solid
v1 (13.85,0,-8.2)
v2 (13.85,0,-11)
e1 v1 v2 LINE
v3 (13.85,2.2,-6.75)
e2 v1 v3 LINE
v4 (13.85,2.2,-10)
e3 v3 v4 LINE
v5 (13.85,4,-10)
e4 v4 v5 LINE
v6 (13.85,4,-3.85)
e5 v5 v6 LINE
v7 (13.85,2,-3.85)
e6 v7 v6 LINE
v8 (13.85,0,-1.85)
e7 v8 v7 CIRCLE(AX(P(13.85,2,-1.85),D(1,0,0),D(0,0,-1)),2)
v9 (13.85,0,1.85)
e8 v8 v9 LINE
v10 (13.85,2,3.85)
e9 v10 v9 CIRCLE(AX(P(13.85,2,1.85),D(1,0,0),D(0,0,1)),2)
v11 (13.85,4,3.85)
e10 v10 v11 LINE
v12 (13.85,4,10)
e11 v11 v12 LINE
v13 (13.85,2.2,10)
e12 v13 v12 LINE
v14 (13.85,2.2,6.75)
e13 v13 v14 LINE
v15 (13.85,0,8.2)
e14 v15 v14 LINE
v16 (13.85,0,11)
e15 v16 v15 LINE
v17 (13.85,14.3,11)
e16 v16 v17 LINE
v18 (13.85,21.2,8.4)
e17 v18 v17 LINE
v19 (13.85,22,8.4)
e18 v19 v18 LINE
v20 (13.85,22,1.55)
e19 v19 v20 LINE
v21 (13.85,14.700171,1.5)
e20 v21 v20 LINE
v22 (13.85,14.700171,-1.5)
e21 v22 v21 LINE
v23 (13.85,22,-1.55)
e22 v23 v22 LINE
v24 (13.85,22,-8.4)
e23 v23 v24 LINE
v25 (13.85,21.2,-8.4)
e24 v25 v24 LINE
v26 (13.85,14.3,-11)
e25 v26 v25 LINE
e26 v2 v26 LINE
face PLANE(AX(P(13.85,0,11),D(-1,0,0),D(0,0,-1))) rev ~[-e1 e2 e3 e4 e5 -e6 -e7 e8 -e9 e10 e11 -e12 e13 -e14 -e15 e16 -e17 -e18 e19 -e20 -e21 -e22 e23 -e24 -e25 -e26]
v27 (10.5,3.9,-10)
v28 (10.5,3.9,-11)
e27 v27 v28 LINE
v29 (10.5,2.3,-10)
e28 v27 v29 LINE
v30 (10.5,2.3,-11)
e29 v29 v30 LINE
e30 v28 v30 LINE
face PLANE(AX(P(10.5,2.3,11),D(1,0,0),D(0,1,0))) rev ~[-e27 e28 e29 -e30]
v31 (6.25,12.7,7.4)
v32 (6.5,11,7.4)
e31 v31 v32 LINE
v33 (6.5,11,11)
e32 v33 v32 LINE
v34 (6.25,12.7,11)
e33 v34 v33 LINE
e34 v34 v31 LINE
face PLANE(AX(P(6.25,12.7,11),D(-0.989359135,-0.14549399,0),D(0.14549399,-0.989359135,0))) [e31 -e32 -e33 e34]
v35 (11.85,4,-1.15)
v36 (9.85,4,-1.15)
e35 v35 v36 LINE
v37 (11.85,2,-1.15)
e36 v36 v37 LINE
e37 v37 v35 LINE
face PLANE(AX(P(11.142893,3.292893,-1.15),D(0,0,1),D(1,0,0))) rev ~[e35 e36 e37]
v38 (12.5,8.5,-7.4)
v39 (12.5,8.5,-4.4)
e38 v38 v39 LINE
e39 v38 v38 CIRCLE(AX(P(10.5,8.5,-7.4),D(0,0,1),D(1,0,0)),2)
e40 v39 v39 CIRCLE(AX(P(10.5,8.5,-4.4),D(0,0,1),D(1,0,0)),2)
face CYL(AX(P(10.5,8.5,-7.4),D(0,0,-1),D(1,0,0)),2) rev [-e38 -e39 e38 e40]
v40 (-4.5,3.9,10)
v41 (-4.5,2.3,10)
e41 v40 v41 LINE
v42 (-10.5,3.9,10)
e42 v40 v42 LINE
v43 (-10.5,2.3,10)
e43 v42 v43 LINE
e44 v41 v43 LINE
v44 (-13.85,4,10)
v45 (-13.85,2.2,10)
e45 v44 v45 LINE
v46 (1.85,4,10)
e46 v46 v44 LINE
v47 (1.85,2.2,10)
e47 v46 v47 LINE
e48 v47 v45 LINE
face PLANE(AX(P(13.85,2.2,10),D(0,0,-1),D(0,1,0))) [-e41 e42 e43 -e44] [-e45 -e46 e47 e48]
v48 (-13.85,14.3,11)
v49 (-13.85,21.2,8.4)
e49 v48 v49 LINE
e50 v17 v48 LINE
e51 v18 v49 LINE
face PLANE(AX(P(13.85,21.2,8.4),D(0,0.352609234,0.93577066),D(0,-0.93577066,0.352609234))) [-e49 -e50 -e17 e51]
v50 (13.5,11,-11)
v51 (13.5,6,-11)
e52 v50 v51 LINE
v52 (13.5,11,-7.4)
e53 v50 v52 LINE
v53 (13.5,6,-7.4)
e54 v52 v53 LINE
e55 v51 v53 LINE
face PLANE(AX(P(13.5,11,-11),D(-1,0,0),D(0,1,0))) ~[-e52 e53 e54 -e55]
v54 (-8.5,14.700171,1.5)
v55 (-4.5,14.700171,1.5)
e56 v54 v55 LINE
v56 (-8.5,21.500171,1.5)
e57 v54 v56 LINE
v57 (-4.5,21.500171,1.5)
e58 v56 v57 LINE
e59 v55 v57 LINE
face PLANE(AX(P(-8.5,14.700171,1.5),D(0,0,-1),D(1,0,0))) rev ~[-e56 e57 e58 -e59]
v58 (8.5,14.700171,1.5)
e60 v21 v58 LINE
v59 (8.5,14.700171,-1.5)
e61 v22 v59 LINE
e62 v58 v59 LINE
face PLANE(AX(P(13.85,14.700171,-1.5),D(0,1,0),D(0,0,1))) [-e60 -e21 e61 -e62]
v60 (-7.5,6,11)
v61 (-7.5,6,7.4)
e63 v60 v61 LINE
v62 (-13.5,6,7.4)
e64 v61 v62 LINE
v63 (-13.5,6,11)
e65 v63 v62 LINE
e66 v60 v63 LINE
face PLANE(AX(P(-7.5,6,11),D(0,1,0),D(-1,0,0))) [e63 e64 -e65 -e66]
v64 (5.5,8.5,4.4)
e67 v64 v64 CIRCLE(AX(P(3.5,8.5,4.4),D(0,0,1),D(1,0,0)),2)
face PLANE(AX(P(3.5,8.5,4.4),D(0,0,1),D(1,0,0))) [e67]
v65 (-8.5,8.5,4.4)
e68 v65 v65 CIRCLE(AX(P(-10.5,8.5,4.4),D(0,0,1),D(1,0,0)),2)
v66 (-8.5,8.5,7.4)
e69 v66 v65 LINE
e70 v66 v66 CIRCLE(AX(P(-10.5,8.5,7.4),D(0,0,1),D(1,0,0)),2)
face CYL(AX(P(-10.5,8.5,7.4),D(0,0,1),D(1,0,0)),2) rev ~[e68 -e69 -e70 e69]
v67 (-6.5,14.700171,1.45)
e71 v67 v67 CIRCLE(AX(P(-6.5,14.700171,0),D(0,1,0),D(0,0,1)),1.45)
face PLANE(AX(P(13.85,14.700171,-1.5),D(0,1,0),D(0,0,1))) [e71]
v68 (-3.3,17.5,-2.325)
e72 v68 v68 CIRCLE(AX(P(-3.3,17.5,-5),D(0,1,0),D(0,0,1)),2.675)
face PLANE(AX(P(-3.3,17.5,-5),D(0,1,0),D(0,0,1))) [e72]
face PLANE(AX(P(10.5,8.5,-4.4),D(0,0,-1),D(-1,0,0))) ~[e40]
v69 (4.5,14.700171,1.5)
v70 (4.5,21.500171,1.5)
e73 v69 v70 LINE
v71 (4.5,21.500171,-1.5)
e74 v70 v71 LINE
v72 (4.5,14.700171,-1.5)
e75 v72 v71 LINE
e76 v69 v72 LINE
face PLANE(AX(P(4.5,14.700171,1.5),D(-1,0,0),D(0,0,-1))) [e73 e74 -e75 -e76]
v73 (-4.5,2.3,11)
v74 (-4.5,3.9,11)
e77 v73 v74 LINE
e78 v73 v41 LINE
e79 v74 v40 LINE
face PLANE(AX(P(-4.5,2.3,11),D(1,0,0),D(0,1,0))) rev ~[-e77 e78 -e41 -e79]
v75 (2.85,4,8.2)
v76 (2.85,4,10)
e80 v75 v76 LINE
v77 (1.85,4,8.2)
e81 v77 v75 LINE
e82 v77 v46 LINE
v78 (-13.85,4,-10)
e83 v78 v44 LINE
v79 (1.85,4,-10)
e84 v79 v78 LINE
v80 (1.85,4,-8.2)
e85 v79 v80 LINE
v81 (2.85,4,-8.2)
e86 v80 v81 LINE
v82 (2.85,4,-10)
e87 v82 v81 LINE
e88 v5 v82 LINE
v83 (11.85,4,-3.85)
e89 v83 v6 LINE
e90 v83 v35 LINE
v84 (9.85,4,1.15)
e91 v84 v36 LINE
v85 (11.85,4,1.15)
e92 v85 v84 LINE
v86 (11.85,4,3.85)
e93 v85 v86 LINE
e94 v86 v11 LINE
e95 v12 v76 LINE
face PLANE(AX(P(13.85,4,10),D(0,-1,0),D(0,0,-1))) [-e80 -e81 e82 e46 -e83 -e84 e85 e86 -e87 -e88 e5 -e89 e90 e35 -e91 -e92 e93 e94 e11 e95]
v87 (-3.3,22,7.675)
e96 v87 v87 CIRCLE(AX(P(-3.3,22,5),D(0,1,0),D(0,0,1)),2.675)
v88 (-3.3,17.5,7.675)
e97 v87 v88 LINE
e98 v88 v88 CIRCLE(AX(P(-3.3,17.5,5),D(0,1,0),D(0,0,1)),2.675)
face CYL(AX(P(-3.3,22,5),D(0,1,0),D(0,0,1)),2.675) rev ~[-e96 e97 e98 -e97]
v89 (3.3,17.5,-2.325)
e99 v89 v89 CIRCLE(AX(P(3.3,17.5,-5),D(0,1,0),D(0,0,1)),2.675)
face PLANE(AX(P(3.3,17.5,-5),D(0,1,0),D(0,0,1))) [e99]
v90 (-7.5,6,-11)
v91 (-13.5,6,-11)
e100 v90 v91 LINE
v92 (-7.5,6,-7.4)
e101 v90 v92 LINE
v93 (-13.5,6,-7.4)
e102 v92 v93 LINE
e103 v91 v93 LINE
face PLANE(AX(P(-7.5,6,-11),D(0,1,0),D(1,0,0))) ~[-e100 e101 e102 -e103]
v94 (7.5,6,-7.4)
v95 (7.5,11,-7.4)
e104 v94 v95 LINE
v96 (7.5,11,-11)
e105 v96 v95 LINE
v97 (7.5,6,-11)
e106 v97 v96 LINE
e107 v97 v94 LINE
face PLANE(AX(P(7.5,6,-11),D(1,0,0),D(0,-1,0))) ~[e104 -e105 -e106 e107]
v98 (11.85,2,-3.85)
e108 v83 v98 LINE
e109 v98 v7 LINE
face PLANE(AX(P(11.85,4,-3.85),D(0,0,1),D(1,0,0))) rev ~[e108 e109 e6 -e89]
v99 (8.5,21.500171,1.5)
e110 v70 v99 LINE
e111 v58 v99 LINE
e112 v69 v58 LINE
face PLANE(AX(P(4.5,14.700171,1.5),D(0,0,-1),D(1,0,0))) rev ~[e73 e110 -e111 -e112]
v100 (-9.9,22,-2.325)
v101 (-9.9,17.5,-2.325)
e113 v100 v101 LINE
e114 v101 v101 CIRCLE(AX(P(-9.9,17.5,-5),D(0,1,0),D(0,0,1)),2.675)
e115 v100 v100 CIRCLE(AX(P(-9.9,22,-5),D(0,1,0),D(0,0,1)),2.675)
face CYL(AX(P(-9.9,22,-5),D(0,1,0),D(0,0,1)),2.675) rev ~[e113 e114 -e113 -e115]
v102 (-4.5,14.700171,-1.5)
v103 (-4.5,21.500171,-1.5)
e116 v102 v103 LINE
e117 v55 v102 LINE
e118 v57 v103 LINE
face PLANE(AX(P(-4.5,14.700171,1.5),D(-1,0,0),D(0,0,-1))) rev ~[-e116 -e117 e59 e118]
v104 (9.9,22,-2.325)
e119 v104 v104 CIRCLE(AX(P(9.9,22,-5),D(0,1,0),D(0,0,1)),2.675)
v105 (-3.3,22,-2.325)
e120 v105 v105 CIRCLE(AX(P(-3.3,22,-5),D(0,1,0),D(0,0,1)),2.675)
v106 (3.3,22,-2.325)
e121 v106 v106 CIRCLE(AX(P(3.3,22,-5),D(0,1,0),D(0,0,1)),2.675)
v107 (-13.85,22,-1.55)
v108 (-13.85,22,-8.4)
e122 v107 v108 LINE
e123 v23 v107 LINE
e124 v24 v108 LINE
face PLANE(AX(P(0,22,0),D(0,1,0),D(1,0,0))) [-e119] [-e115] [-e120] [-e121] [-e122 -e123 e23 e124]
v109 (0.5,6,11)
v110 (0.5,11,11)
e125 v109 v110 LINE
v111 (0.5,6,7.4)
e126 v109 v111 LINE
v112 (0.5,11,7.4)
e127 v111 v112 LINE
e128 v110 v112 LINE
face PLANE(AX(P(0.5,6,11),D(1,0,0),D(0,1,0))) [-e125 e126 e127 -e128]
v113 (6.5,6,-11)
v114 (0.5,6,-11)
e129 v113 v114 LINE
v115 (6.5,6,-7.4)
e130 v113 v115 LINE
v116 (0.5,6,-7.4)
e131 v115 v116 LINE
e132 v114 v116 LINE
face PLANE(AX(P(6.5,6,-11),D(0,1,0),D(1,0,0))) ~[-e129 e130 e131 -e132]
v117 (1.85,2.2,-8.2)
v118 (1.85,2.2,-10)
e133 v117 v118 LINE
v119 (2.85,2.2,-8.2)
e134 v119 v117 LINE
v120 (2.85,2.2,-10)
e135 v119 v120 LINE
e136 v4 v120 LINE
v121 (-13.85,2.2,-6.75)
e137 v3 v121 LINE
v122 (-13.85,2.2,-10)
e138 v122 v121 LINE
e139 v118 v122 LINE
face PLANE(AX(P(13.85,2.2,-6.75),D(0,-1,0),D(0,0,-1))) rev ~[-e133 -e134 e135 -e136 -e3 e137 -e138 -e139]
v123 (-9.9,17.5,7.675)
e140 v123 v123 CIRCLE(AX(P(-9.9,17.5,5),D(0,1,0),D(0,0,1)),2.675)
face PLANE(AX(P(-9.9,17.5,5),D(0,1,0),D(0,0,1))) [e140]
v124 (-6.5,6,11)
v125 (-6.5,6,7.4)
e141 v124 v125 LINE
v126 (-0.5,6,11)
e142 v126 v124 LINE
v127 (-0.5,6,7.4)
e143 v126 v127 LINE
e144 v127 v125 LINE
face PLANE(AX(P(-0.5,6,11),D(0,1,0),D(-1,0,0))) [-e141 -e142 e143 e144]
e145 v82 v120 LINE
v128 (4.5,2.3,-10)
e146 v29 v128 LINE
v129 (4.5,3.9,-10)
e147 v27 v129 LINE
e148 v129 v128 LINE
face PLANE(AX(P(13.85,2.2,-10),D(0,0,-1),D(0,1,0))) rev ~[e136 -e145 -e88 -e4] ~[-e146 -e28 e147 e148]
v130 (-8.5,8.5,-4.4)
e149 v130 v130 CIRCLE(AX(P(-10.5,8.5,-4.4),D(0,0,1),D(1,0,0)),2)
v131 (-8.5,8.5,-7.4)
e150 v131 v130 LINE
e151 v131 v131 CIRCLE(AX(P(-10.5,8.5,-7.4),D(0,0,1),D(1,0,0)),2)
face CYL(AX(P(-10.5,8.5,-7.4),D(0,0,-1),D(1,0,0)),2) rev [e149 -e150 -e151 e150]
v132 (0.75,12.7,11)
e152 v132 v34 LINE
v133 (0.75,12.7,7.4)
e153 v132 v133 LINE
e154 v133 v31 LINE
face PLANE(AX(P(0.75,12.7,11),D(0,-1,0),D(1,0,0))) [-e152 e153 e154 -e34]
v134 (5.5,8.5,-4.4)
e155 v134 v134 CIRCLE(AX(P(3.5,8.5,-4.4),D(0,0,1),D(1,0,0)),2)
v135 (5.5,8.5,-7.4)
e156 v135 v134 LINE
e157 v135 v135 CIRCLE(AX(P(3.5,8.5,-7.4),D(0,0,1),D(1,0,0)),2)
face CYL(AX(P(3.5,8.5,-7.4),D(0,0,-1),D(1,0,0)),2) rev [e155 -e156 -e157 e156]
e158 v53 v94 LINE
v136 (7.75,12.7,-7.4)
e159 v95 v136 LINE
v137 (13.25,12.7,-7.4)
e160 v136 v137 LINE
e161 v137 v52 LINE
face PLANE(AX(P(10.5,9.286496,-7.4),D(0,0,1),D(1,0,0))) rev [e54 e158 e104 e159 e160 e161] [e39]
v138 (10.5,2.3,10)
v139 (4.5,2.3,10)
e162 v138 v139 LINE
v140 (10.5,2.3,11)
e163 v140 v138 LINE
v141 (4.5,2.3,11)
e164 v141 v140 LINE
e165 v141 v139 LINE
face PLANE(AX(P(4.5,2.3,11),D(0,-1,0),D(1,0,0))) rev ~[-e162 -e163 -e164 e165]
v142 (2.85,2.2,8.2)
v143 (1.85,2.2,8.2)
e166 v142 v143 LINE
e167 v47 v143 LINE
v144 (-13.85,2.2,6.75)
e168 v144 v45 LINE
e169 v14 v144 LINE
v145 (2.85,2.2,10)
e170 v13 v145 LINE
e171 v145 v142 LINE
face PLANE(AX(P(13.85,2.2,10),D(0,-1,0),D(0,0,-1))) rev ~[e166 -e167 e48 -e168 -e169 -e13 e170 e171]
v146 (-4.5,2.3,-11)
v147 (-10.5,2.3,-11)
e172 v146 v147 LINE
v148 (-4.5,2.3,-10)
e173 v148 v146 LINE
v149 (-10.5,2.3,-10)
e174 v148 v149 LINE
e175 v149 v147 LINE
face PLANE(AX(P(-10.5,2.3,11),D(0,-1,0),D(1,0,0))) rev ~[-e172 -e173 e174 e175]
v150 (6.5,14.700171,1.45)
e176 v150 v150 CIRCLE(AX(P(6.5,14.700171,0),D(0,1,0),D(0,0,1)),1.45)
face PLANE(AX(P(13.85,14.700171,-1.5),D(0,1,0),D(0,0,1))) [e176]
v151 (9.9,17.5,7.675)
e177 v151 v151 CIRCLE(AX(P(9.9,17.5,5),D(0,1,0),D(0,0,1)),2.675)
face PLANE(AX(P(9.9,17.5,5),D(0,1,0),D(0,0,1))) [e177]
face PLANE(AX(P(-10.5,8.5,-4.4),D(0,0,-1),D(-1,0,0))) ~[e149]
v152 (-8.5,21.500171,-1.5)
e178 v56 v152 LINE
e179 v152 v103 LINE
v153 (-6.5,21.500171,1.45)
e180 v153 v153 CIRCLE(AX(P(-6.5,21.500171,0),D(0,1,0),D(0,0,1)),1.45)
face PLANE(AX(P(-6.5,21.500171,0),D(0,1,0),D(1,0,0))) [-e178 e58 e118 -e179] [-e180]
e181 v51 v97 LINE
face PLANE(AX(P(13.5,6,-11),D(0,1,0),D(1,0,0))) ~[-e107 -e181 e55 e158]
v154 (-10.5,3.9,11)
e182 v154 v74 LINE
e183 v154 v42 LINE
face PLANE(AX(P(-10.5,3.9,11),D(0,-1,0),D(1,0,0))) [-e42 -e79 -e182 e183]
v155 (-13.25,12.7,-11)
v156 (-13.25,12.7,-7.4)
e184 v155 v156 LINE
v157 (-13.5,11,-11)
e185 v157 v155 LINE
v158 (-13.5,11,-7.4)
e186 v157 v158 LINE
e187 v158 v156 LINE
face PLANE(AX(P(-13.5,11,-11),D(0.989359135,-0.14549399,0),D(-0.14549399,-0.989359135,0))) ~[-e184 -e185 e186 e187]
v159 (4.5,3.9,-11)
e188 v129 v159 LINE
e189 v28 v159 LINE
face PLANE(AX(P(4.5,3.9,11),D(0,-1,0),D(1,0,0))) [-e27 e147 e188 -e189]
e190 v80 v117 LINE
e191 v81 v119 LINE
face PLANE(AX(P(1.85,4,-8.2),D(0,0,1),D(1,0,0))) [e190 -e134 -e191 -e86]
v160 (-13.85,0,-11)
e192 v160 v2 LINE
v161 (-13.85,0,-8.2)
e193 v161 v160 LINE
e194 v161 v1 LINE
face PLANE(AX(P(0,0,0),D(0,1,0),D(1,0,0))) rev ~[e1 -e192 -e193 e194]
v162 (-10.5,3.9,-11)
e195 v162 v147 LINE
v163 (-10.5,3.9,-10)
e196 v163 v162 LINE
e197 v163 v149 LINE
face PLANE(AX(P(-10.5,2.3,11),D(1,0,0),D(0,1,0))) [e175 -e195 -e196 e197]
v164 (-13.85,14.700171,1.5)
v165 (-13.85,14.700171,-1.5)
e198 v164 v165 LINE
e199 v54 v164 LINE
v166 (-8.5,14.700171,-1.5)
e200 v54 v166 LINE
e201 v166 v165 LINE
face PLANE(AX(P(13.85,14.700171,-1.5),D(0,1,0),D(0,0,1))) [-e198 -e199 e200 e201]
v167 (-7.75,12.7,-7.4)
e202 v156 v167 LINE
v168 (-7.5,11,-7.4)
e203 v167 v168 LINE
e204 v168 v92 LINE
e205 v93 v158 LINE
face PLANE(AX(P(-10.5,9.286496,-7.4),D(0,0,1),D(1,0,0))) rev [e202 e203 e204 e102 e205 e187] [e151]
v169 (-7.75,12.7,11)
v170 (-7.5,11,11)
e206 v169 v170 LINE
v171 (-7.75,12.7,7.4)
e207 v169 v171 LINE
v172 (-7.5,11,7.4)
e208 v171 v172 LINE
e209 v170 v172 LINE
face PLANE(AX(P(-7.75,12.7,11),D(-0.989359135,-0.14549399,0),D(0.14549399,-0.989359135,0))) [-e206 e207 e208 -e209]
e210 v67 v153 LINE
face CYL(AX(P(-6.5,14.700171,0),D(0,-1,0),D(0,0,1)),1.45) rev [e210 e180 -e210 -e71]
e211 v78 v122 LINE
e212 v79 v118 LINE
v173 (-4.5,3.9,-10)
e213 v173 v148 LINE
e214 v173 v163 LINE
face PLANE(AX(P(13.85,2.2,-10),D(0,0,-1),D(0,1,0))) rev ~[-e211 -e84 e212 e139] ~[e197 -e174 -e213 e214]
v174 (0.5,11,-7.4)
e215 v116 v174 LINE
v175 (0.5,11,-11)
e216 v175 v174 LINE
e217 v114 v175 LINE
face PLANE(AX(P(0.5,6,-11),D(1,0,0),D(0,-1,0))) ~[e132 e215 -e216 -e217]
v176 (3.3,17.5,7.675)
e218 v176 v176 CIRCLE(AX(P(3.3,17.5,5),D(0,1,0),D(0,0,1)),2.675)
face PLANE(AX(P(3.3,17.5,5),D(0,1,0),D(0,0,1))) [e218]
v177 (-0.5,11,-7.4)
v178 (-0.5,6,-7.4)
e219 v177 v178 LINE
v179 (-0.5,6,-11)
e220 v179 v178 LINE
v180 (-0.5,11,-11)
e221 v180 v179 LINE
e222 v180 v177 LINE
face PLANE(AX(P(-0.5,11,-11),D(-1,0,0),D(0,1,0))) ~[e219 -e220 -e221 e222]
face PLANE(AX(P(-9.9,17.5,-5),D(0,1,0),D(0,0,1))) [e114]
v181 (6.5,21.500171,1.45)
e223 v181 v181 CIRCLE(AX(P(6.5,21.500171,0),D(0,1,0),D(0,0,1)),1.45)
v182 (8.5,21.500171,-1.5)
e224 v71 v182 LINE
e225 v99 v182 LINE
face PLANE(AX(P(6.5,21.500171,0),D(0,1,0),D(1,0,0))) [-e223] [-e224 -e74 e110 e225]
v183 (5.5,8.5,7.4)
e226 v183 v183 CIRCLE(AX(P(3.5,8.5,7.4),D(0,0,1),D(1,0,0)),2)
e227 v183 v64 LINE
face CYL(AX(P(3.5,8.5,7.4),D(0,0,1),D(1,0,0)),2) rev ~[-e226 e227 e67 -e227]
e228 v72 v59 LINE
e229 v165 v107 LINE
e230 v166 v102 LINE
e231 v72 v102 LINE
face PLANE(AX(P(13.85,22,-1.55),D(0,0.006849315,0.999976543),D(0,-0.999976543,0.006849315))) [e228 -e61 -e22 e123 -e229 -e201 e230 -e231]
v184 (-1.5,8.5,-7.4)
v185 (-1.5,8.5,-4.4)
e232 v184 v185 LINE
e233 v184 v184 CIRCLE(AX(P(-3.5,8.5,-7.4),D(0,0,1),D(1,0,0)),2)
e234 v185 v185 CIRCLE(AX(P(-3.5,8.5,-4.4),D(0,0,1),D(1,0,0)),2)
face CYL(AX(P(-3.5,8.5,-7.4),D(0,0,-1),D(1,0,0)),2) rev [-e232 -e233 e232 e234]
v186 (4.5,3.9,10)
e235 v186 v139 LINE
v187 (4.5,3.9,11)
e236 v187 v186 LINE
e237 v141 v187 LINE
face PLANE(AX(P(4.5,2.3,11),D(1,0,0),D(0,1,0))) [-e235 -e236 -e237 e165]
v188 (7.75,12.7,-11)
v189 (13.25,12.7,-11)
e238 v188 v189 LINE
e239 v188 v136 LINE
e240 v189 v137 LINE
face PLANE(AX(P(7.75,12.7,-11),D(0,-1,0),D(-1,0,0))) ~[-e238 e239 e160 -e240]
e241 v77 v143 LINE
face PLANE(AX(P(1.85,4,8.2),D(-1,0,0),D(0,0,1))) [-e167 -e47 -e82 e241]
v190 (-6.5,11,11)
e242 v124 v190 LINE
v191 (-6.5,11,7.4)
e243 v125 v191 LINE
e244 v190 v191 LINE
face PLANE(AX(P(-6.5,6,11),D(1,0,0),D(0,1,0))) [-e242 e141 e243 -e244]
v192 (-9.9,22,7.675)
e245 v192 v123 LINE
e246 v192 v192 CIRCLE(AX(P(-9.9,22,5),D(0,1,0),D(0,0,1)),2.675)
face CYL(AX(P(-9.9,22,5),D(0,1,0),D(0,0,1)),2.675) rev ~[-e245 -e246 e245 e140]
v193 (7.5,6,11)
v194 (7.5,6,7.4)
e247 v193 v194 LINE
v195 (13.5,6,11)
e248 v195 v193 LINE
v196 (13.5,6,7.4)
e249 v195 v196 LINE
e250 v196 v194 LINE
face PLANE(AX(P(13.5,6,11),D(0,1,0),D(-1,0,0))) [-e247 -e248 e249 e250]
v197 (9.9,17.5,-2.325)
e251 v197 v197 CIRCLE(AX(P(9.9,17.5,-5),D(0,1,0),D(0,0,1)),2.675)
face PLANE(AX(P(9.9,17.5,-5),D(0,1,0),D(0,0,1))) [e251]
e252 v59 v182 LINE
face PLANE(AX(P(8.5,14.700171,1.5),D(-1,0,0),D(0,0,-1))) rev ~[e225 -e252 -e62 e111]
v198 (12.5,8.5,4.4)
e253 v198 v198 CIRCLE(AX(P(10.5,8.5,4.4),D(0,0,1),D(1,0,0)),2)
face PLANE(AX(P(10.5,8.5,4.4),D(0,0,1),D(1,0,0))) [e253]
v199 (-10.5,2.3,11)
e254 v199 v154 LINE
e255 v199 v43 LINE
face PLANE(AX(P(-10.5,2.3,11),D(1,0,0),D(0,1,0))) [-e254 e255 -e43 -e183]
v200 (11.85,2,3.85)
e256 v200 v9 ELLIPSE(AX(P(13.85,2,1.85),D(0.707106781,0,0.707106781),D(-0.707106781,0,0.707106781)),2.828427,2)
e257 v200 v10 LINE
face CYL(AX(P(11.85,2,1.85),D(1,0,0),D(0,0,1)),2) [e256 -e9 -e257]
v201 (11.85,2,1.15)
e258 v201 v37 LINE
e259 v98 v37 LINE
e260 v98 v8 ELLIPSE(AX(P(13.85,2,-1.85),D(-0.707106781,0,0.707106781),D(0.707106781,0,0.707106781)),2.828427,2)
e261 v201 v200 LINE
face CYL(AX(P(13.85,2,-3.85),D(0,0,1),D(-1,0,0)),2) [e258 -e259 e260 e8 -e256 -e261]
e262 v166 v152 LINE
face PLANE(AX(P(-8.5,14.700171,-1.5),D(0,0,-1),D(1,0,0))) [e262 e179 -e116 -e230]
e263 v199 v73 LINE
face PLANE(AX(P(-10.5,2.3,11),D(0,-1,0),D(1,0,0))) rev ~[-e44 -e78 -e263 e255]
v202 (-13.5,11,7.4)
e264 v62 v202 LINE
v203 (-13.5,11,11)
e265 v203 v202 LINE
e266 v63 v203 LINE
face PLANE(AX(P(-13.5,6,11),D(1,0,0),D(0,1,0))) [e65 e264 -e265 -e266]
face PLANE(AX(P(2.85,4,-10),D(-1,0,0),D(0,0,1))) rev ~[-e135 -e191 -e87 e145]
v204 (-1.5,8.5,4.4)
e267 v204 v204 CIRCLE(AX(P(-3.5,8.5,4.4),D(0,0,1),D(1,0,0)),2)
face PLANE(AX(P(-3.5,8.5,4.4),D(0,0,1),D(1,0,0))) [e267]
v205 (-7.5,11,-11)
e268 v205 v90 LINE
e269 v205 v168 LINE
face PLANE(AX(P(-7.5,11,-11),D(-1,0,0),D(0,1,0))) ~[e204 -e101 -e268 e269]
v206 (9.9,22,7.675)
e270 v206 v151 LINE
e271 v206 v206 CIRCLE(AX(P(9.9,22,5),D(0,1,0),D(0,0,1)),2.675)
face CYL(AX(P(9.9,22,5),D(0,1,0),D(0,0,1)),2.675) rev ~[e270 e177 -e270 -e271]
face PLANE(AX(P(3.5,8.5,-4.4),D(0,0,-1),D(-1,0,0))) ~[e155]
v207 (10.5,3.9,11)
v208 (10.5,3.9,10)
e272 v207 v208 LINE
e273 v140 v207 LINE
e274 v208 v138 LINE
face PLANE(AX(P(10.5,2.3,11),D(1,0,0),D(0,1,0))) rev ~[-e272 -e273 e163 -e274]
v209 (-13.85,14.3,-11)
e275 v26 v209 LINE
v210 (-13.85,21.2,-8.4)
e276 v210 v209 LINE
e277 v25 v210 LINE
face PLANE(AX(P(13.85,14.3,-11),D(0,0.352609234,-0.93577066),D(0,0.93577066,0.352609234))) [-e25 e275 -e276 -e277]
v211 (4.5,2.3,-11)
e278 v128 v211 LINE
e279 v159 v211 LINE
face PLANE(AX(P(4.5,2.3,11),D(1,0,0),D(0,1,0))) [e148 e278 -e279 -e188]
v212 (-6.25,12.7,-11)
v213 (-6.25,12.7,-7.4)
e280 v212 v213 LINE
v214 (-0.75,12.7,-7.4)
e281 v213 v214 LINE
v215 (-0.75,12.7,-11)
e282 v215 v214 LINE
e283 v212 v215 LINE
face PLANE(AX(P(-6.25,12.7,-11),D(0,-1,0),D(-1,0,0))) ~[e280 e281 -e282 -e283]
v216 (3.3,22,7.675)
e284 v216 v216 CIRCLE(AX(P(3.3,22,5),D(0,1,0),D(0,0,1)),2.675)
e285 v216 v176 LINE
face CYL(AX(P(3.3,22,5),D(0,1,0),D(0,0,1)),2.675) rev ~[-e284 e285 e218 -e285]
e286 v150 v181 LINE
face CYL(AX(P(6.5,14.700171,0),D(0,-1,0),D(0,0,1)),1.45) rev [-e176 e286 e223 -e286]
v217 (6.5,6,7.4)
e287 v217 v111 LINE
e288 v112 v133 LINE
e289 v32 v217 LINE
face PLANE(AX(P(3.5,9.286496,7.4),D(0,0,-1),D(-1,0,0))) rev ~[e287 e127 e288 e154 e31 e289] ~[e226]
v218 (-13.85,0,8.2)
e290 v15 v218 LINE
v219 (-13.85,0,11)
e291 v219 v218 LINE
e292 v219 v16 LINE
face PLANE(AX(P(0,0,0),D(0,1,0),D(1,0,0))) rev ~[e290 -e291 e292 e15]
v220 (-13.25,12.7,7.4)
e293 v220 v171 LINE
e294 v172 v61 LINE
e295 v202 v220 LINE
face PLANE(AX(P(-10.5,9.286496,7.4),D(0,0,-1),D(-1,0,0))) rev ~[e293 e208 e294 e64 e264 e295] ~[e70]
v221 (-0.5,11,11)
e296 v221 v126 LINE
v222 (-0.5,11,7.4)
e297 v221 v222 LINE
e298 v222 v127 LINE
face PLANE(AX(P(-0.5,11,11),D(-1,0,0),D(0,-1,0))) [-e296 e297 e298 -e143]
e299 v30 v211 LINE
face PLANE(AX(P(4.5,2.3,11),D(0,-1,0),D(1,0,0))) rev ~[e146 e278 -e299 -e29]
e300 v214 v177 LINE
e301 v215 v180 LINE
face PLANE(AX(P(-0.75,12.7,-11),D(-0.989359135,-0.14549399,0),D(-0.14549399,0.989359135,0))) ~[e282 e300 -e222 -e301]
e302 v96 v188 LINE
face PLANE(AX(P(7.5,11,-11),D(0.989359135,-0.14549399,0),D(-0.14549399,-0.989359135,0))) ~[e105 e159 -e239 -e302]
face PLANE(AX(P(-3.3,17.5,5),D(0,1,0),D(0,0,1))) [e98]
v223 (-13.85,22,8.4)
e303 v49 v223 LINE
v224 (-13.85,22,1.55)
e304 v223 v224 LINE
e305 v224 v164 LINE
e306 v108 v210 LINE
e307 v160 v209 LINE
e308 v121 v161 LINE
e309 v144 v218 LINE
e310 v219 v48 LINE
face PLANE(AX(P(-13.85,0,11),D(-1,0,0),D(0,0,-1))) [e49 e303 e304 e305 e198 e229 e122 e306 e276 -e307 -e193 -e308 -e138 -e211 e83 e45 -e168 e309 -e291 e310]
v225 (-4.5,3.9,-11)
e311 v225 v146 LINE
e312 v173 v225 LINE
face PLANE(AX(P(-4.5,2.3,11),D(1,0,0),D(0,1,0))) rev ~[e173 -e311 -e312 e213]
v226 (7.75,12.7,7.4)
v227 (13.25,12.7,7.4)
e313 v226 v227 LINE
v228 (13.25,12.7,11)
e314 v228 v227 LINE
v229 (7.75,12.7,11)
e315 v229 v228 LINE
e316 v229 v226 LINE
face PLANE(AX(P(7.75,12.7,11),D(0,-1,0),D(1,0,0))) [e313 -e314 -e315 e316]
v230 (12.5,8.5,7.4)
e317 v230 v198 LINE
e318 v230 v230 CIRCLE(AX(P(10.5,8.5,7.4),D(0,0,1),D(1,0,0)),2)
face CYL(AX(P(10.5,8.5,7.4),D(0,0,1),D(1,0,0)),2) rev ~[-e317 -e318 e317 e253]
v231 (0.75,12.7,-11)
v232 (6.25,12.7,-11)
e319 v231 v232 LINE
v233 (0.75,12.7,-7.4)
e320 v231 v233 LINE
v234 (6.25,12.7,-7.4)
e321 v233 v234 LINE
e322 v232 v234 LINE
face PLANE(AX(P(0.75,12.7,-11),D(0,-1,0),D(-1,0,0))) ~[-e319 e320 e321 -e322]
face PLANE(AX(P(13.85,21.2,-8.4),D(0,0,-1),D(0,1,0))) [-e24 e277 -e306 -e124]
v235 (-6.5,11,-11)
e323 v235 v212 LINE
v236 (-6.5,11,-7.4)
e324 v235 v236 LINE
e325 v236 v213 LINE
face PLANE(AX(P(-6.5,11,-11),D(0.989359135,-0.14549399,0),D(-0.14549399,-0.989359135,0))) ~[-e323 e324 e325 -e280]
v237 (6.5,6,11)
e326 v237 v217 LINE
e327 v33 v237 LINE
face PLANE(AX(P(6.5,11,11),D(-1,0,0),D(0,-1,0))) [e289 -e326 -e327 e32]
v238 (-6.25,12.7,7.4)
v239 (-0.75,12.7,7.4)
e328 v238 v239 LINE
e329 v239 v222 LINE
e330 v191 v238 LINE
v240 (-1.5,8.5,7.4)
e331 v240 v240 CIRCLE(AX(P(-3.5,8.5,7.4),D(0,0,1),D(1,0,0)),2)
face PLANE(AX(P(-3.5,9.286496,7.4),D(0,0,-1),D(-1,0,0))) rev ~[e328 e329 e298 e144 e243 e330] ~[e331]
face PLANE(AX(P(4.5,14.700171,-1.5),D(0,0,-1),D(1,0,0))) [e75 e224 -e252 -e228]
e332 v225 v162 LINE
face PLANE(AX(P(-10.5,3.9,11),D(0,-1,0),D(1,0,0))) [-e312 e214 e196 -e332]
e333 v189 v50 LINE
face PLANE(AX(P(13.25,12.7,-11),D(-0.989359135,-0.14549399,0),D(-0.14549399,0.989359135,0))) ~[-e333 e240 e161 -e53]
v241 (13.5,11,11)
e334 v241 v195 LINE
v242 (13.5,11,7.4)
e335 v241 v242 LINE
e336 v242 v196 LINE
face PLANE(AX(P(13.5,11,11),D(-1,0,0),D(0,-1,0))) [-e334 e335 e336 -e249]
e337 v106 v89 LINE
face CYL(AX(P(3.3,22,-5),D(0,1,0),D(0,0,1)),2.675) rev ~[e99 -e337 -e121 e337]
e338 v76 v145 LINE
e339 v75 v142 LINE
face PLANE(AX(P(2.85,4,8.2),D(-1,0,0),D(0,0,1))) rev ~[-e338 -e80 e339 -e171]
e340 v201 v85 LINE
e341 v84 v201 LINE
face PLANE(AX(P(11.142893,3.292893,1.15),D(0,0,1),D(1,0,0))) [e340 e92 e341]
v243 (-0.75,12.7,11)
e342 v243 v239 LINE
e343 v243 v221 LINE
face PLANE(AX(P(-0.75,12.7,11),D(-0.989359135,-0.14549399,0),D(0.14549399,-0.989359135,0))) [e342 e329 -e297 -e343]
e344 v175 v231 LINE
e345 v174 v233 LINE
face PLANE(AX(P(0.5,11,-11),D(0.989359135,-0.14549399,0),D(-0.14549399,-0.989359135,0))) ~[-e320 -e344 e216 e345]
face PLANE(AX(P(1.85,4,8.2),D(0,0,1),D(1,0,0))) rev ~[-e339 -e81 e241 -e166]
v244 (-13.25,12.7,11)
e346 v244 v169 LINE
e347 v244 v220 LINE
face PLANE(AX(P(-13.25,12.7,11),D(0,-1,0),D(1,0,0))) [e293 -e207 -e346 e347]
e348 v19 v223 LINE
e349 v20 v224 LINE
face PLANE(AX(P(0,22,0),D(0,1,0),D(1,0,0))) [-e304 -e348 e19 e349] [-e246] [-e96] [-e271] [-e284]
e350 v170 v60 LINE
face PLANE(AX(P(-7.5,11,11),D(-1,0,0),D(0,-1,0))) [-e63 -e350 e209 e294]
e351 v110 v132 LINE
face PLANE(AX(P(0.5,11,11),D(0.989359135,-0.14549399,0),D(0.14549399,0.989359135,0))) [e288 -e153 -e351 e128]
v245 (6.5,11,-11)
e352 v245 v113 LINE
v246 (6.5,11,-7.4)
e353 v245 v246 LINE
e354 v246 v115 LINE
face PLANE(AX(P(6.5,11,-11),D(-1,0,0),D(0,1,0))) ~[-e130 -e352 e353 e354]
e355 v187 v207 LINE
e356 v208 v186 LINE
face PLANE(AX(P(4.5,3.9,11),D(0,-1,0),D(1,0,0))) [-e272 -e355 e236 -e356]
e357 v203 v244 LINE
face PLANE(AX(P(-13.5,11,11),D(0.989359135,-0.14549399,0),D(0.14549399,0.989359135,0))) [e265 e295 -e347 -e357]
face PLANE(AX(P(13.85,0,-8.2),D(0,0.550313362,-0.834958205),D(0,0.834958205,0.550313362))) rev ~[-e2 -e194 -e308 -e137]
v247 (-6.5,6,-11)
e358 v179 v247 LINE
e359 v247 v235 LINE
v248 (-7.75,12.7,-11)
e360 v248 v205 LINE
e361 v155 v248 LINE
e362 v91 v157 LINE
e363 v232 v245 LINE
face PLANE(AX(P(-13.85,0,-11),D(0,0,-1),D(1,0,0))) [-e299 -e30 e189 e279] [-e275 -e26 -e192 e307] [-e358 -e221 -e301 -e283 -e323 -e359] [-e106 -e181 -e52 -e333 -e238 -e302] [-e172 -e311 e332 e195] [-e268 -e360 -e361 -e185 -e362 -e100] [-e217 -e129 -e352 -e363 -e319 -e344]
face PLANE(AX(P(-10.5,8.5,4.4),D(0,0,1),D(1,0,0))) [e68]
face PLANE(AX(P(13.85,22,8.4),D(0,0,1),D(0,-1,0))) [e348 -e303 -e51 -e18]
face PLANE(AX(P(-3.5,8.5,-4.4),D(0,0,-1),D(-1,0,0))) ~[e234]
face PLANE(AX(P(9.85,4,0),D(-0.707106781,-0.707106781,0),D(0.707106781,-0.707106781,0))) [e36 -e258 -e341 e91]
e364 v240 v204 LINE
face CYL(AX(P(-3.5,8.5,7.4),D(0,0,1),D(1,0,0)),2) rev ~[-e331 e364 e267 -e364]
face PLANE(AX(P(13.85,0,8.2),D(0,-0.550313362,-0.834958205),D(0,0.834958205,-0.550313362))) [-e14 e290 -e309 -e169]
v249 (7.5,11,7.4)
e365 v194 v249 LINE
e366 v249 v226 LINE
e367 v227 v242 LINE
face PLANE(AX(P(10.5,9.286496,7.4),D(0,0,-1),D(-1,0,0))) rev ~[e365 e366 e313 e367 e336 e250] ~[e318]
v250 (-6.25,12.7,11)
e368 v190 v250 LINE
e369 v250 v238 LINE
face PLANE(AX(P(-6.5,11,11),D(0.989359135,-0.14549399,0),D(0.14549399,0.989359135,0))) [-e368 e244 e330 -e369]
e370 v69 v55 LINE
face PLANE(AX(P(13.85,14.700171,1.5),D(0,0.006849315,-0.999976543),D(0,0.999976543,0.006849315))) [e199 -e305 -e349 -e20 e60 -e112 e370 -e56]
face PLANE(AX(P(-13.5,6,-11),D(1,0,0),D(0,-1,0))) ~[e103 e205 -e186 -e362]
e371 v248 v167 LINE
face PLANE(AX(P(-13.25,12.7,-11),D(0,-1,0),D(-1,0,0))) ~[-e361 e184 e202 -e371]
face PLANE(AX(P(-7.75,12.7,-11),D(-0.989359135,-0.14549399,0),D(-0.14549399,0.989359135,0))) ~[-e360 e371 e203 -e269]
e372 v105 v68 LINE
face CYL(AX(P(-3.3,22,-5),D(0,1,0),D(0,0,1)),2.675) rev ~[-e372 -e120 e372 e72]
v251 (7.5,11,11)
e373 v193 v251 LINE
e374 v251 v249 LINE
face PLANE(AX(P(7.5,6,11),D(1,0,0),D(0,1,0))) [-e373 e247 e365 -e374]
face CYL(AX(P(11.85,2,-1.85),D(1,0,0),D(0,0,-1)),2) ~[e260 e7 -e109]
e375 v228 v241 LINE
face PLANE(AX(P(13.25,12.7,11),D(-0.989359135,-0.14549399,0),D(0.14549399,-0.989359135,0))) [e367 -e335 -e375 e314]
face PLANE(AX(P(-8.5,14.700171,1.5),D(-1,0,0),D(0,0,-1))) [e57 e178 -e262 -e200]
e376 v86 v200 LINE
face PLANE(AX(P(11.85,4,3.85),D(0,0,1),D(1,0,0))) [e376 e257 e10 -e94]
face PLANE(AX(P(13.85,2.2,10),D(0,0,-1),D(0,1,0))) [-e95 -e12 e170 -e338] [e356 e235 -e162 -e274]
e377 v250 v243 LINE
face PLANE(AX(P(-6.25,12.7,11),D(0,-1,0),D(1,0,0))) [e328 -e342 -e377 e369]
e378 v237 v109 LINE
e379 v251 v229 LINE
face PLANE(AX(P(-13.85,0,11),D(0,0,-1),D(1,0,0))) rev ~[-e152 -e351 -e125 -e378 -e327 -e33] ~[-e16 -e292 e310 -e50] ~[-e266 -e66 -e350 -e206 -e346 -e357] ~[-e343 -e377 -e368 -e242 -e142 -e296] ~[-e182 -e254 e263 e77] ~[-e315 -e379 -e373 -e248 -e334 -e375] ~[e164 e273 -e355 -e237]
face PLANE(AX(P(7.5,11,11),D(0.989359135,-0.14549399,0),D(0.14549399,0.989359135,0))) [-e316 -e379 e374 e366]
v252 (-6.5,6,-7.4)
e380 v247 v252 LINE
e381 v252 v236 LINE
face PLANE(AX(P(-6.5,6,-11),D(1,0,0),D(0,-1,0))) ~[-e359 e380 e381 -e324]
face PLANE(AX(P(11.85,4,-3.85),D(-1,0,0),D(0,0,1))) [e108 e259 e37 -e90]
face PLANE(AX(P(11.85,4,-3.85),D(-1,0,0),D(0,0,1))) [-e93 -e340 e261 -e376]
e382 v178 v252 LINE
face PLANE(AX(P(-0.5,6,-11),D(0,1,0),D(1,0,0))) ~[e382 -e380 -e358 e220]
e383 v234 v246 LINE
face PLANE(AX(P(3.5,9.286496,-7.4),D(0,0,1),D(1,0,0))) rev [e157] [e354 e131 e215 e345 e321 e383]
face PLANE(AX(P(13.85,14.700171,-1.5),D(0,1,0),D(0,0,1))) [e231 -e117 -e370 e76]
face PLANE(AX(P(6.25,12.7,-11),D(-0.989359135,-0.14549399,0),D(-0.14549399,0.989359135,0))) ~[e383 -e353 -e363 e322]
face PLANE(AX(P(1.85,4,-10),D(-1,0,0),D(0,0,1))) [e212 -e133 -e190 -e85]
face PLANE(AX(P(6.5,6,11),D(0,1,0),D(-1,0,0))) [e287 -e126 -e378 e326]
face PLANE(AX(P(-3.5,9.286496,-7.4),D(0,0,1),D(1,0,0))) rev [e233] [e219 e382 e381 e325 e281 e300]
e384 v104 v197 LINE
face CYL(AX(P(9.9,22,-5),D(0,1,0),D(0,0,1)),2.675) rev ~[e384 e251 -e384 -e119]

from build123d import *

# Parameters (mm, degrees)
SKETCH1_W                                   = 27.7
SKETCH1_H                                   = 22
BOSS_EXTRUDE1_DEPTH                         = 22
CUT_EXTRUDE1_DEPTH                          = 38.04443278
CUT_EXTRUDE2_DEPTH                          = 38.04443278
SKETCH4_W                                   = 13.5
SKETCH4_H                                   = 4
CUT_EXTRUDE3_DEPTH                          = 38.04443278
SKETCH5_W                                   = 3.25
SKETCH5_H                                   = 1.8
CUT_EXTRUDE4_DEPTH                          = 38.04443278
CUT_EXTRUDE5_DEPTH                          = 38.04443278
SKETCH7_W                                   = 6
SKETCH7_H                                   = 1.6
CUT_EXTRUDE6_DEPTH                          = 35.056166842
SKETCH8_R                                   = 2.675
CUT_EXTRUDE7_DEPTH                          = 4.5
CUT_EXTRUDE8_DEPTH                          = 3.6
SKETCH10_R                                  = 2
CUT_EXTRUDE9_DEPTH                          = 3
SKETCH15_W                                  = 4
SKETCH15_H                                  = 3
SKETCH15_R                                  = 1.45
BOSS_EXTRUDE4_DEPTH                         = 6.8
SKETCH11_W                                  = 10.5
SKETCH11_H                                  = 7.7
BOSS_EXTRUDE2_DEPTH                         = 4
SKETCH12_R                                  = 3
CUT_EXTRUDE10_DEPTH                         = 3.5
SKETCH13_R                                  = 1.5
REIK_MAHTUU_3_3MM_NIITTI_L_PI_KOSKA_M_DEPTH = 33.905508657
FILLET2_R                                   = 2
FILLET3_R                                   = 1
BOSS_EXTRUDE5_DEPTH                         = 1.15
SKETCH18_W                                  = 1
SKETCH18_H                                  = 1.8
BOSS_EXTRUDE6_DEPTH                         = 4
SKETCH19_W                                  = 8.5
SKETCH19_H                                  = 4
CUT_EXTRUDE12_DEPTH                         = 35.699351643


with BuildPart() as part:
    # Sketch1 → Boss-Extrude1 (new body)
    with BuildSketch(Plane(origin=(0, 0, 0), x_dir=(1, 0, 0), z_dir=(0, 1, 0))):
        Rectangle(SKETCH1_W, SKETCH1_H)
    extrude(amount=BOSS_EXTRUDE1_DEPTH)

    # Sketch2 → Cut-Extrude1 (cut, through all)
    with BuildSketch(Plane(origin=(13.85, 0, 0), x_dir=(0, 0, -1), z_dir=(1, 0, 0))):
        Polygon((-8.4, 22), (-8.4, 21.2), (-11, 14.3), (-11, 22), align=None)
        Polygon((11, 22), (11, 14.3), (8.4, 21.2), (8.4, 22), align=None)
    extrude(amount=-CUT_EXTRUDE1_DEPTH, mode=Mode.SUBTRACT)

    # Sketch3 → Cut-Extrude2 (cut, through all)
    with BuildSketch(Plane(origin=(13.85, 0, 0), x_dir=(0, 0, -1), z_dir=(1, 0, 0))):
        Polygon((-1.55, 22), (1.55, 22), (1.5, 14.700171235), (-1.5, 14.700171235), align=None)
    extrude(amount=-CUT_EXTRUDE2_DEPTH, mode=Mode.SUBTRACT)

    # Sketch4 → Cut-Extrude3 (cut, through all)
    with BuildSketch(Plane(origin=(13.85, 0, 0), x_dir=(0, 0, -1), z_dir=(1, 0, 0))):
        with Locations((0, 2)):
            Rectangle(SKETCH4_W, SKETCH4_H)
    extrude(amount=-CUT_EXTRUDE3_DEPTH, mode=Mode.SUBTRACT)

    # Sketch5 → Cut-Extrude4 (cut, through all)
    with BuildSketch(Plane(origin=(13.85, 0, 0), x_dir=(0, 0, -1), z_dir=(1, 0, 0))):
        with Locations((-8.375, 3.1)):
            Rectangle(SKETCH5_W, SKETCH5_H)
        with Locations((8.375, 3.1)):
            Rectangle(SKETCH5_W, SKETCH5_H)
    extrude(amount=-CUT_EXTRUDE4_DEPTH, mode=Mode.SUBTRACT)

    # Sketch6 → Cut-Extrude5 (cut, through all)
    with BuildSketch(Plane(origin=(13.85, 0, 0), x_dir=(0, 0, -1), z_dir=(1, 0, 0))):
        Polygon((-8.2, 0), (-6.75, 2.2), (-6.75, 0), align=None)
        Polygon((6.75, 0), (8.2, 0), (6.75, 2.2), align=None)
    extrude(amount=-CUT_EXTRUDE5_DEPTH, mode=Mode.SUBTRACT)

    # Sketch7 → Cut-Extrude6 (cut, through all)
    with BuildSketch(Plane.XY.offset(11)):
        with Locations((-7.5, 3.1)):
            Rectangle(SKETCH7_W, SKETCH7_H)
        with Locations((7.5, 3.1)):
            Rectangle(SKETCH7_W, SKETCH7_H)
    extrude(amount=-CUT_EXTRUDE6_DEPTH, mode=Mode.SUBTRACT)

    # Sketch8 → Cut-Extrude7 (cut)
    with BuildSketch(Plane(origin=(0, 22, 0), x_dir=(1, 0, 0), z_dir=(0, 1, 0))):
        with Locations(Location((-9.9, 5, 0), (0, 0, 270))):
            Circle(SKETCH8_R)
        with Locations(Location((-3.3, 5, 0), (0, 0, 270))):
            Circle(SKETCH8_R)
        with Locations(Location((3.3, 5, 0), (0, 0, 270))):
            Circle(SKETCH8_R)
        with Locations(Location((9.9, 5, 0), (0, 0, 270))):
            Circle(SKETCH8_R)
        with Locations(Location((9.9, -5, 0), (0, 0, 270))):
            Circle(SKETCH8_R)
        with Locations(Location((3.3, -5, 0), (0, 0, 270))):
            Circle(SKETCH8_R)
        with Locations(Location((-3.3, -5, 0), (0, 0, 270))):
            Circle(SKETCH8_R)
        with Locations(Location((-9.9, -5, 0), (0, 0, 270))):
            Circle(SKETCH8_R)
    extrude(amount=-CUT_EXTRUDE7_DEPTH, mode=Mode.SUBTRACT)

    # Sketch9 → Cut-Extrude8 (cut)
    with BuildSketch(Plane.XY.offset(11)):
        Polygon((-7.75, 12.7), (-7.5, 11), (-7.5, 6), (-13.5, 6), (-13.5, 11), (-13.25, 12.7), align=None)
        Polygon((-0.75, 12.7), (-0.5, 11), (-0.5, 6), (-6.5, 6), (-6.5, 11), (-6.25, 12.7), align=None)
        Polygon((6.25, 12.7), (6.5, 11), (6.5, 6), (0.5, 6), (0.5, 11), (0.75, 12.7), align=None)
        Polygon((13.25, 12.7), (13.5, 11), (13.5, 6), (7.5, 6), (7.5, 11), (7.75, 12.7), align=None)
    cut_extrude8 = extrude(amount=-CUT_EXTRUDE8_DEPTH, mode=Mode.SUBTRACT)

    # Mirror1: Cut-Extrude8 across plane
    add(cut_extrude8.mirror(Plane.XY), mode=Mode.SUBTRACT)

    # Sketch10 → Cut-Extrude9 (cut)
    with BuildSketch(Plane.XY.offset(7.4)):
        with Locations((-10.5, 8.5)):
            Circle(SKETCH10_R)
        with Locations((-3.5, 8.5)):
            Circle(SKETCH10_R)
        with Locations((3.5, 8.5)):
            Circle(SKETCH10_R)
        with Locations((10.5, 8.5)):
            Circle(SKETCH10_R)
    cut_extrude9 = extrude(amount=-CUT_EXTRUDE9_DEPTH, mode=Mode.SUBTRACT)

    # Mirror2: Cut-Extrude9 across plane
    add(cut_extrude9.mirror(Plane.XY), mode=Mode.SUBTRACT)

    # Sketch15 → Boss-Extrude4 (add)
    # profile 1 of 2: a face of its own
    with BuildSketch(Plane(origin=(0, 14.700171235, 0), x_dir=(1, 0, 0), z_dir=(0, 1, 0))):
        with Locations((-6.5, 0)):
            Rectangle(SKETCH15_W, SKETCH15_H)
        with Locations(Location((-6.5, 0, 0), (0, 0, 270))):
            Circle(SKETCH15_R, mode=Mode.SUBTRACT)
    # profile 2 of 2: a face of its own
    with BuildSketch(Plane(origin=(0, 14.700171235, 0), x_dir=(1, 0, 0), z_dir=(0, 1, 0))):
        with Locations((6.5, 0)):
            Rectangle(SKETCH15_W, SKETCH15_H)
        with Locations(Location((6.5, 0, 0), (0, 0, 270))):
            Circle(SKETCH15_R, mode=Mode.SUBTRACT)
    extrude(amount=BOSS_EXTRUDE4_DEPTH)

    # Sketch11 → Boss-Extrude2 (add)
    with BuildSketch(Plane.XZ.offset(-4)):
        with Locations((17.1, 0)):
            Rectangle(SKETCH11_W, SKETCH11_H)
    extrude(amount=BOSS_EXTRUDE2_DEPTH)

    # Sketch12 → Cut-Extrude10 (cut)
    with BuildSketch(Plane(origin=(0, 4, 0), x_dir=(1, 0, 0), z_dir=(0, 1, 0))):
        with Locations(Location((18.35, 0, 0), (0, 0, 270))):
            Circle(SKETCH12_R)
    extrude(amount=-CUT_EXTRUDE10_DEPTH, mode=Mode.SUBTRACT)

    # Sketch13 → Reikä. Mahtuu 3,3mm niitti läpi, koska materiaali muovia (cut, through all)
    with BuildSketch(Plane(origin=(0, 0.5, 0), x_dir=(1, 0, 0), z_dir=(0, 1, 0))):
        with Locations(Location((18.35, 0, 0), (0, 0, 270))):
            Circle(SKETCH13_R)
    extrude(amount=-REIK_MAHTUU_3_3MM_NIITTI_L_PI_KOSKA_M_DEPTH, mode=Mode.SUBTRACT)

    # Fillet2
    fillet2_edges = [part.edges().sort_by_distance(p)[0] for p in [
        (17.1, 0, -3.85),
        (11.85, 0, 0),
        (17.1, 0, 3.85),
        (22.35, 0, 0),
    ]]
    fillet(fillet2_edges, radius=FILLET2_R)

    # Fillet3
    fillet3_edges = [part.edges().sort_by_distance(p)[0] for p in [
        (22.35, 3, -3.85),
        (22.35, 3, 3.85),
        (21.642097815, 0.473407966, 3.142097815),
        (21.642097815, 0.473407966, -3.142097815),
    ]]
    fillet(fillet3_edges, radius=FILLET3_R)

    # Sketch16 → Boss-Extrude5 (add, symmetric)
    with BuildSketch(Plane.XY):
        Polygon((11.85, 2), (11.85, 4), (9.85, 4), align=None)
    extrude(amount=BOSS_EXTRUDE5_DEPTH, both=True)

    # Sketch18 → Boss-Extrude6 (add)
    with BuildSketch(Plane.XZ.offset(-4)):
        with Locations((2.35, 9.1)):
            Rectangle(SKETCH18_W, SKETCH18_H)
        with Locations((2.35, -9.1)):
            Rectangle(SKETCH18_W, SKETCH18_H)
    extrude(amount=BOSS_EXTRUDE6_DEPTH)

    # Sketch19 → Cut-Extrude12 (cut, through all)
    with BuildSketch(Plane.XY.offset(3.85)):
        with Locations((18.1, 2)):
            Rectangle(SKETCH19_W, SKETCH19_H)
    extrude(amount=-CUT_EXTRUDE12_DEPTH, mode=Mode.SUBTRACT)


solid = part.part
